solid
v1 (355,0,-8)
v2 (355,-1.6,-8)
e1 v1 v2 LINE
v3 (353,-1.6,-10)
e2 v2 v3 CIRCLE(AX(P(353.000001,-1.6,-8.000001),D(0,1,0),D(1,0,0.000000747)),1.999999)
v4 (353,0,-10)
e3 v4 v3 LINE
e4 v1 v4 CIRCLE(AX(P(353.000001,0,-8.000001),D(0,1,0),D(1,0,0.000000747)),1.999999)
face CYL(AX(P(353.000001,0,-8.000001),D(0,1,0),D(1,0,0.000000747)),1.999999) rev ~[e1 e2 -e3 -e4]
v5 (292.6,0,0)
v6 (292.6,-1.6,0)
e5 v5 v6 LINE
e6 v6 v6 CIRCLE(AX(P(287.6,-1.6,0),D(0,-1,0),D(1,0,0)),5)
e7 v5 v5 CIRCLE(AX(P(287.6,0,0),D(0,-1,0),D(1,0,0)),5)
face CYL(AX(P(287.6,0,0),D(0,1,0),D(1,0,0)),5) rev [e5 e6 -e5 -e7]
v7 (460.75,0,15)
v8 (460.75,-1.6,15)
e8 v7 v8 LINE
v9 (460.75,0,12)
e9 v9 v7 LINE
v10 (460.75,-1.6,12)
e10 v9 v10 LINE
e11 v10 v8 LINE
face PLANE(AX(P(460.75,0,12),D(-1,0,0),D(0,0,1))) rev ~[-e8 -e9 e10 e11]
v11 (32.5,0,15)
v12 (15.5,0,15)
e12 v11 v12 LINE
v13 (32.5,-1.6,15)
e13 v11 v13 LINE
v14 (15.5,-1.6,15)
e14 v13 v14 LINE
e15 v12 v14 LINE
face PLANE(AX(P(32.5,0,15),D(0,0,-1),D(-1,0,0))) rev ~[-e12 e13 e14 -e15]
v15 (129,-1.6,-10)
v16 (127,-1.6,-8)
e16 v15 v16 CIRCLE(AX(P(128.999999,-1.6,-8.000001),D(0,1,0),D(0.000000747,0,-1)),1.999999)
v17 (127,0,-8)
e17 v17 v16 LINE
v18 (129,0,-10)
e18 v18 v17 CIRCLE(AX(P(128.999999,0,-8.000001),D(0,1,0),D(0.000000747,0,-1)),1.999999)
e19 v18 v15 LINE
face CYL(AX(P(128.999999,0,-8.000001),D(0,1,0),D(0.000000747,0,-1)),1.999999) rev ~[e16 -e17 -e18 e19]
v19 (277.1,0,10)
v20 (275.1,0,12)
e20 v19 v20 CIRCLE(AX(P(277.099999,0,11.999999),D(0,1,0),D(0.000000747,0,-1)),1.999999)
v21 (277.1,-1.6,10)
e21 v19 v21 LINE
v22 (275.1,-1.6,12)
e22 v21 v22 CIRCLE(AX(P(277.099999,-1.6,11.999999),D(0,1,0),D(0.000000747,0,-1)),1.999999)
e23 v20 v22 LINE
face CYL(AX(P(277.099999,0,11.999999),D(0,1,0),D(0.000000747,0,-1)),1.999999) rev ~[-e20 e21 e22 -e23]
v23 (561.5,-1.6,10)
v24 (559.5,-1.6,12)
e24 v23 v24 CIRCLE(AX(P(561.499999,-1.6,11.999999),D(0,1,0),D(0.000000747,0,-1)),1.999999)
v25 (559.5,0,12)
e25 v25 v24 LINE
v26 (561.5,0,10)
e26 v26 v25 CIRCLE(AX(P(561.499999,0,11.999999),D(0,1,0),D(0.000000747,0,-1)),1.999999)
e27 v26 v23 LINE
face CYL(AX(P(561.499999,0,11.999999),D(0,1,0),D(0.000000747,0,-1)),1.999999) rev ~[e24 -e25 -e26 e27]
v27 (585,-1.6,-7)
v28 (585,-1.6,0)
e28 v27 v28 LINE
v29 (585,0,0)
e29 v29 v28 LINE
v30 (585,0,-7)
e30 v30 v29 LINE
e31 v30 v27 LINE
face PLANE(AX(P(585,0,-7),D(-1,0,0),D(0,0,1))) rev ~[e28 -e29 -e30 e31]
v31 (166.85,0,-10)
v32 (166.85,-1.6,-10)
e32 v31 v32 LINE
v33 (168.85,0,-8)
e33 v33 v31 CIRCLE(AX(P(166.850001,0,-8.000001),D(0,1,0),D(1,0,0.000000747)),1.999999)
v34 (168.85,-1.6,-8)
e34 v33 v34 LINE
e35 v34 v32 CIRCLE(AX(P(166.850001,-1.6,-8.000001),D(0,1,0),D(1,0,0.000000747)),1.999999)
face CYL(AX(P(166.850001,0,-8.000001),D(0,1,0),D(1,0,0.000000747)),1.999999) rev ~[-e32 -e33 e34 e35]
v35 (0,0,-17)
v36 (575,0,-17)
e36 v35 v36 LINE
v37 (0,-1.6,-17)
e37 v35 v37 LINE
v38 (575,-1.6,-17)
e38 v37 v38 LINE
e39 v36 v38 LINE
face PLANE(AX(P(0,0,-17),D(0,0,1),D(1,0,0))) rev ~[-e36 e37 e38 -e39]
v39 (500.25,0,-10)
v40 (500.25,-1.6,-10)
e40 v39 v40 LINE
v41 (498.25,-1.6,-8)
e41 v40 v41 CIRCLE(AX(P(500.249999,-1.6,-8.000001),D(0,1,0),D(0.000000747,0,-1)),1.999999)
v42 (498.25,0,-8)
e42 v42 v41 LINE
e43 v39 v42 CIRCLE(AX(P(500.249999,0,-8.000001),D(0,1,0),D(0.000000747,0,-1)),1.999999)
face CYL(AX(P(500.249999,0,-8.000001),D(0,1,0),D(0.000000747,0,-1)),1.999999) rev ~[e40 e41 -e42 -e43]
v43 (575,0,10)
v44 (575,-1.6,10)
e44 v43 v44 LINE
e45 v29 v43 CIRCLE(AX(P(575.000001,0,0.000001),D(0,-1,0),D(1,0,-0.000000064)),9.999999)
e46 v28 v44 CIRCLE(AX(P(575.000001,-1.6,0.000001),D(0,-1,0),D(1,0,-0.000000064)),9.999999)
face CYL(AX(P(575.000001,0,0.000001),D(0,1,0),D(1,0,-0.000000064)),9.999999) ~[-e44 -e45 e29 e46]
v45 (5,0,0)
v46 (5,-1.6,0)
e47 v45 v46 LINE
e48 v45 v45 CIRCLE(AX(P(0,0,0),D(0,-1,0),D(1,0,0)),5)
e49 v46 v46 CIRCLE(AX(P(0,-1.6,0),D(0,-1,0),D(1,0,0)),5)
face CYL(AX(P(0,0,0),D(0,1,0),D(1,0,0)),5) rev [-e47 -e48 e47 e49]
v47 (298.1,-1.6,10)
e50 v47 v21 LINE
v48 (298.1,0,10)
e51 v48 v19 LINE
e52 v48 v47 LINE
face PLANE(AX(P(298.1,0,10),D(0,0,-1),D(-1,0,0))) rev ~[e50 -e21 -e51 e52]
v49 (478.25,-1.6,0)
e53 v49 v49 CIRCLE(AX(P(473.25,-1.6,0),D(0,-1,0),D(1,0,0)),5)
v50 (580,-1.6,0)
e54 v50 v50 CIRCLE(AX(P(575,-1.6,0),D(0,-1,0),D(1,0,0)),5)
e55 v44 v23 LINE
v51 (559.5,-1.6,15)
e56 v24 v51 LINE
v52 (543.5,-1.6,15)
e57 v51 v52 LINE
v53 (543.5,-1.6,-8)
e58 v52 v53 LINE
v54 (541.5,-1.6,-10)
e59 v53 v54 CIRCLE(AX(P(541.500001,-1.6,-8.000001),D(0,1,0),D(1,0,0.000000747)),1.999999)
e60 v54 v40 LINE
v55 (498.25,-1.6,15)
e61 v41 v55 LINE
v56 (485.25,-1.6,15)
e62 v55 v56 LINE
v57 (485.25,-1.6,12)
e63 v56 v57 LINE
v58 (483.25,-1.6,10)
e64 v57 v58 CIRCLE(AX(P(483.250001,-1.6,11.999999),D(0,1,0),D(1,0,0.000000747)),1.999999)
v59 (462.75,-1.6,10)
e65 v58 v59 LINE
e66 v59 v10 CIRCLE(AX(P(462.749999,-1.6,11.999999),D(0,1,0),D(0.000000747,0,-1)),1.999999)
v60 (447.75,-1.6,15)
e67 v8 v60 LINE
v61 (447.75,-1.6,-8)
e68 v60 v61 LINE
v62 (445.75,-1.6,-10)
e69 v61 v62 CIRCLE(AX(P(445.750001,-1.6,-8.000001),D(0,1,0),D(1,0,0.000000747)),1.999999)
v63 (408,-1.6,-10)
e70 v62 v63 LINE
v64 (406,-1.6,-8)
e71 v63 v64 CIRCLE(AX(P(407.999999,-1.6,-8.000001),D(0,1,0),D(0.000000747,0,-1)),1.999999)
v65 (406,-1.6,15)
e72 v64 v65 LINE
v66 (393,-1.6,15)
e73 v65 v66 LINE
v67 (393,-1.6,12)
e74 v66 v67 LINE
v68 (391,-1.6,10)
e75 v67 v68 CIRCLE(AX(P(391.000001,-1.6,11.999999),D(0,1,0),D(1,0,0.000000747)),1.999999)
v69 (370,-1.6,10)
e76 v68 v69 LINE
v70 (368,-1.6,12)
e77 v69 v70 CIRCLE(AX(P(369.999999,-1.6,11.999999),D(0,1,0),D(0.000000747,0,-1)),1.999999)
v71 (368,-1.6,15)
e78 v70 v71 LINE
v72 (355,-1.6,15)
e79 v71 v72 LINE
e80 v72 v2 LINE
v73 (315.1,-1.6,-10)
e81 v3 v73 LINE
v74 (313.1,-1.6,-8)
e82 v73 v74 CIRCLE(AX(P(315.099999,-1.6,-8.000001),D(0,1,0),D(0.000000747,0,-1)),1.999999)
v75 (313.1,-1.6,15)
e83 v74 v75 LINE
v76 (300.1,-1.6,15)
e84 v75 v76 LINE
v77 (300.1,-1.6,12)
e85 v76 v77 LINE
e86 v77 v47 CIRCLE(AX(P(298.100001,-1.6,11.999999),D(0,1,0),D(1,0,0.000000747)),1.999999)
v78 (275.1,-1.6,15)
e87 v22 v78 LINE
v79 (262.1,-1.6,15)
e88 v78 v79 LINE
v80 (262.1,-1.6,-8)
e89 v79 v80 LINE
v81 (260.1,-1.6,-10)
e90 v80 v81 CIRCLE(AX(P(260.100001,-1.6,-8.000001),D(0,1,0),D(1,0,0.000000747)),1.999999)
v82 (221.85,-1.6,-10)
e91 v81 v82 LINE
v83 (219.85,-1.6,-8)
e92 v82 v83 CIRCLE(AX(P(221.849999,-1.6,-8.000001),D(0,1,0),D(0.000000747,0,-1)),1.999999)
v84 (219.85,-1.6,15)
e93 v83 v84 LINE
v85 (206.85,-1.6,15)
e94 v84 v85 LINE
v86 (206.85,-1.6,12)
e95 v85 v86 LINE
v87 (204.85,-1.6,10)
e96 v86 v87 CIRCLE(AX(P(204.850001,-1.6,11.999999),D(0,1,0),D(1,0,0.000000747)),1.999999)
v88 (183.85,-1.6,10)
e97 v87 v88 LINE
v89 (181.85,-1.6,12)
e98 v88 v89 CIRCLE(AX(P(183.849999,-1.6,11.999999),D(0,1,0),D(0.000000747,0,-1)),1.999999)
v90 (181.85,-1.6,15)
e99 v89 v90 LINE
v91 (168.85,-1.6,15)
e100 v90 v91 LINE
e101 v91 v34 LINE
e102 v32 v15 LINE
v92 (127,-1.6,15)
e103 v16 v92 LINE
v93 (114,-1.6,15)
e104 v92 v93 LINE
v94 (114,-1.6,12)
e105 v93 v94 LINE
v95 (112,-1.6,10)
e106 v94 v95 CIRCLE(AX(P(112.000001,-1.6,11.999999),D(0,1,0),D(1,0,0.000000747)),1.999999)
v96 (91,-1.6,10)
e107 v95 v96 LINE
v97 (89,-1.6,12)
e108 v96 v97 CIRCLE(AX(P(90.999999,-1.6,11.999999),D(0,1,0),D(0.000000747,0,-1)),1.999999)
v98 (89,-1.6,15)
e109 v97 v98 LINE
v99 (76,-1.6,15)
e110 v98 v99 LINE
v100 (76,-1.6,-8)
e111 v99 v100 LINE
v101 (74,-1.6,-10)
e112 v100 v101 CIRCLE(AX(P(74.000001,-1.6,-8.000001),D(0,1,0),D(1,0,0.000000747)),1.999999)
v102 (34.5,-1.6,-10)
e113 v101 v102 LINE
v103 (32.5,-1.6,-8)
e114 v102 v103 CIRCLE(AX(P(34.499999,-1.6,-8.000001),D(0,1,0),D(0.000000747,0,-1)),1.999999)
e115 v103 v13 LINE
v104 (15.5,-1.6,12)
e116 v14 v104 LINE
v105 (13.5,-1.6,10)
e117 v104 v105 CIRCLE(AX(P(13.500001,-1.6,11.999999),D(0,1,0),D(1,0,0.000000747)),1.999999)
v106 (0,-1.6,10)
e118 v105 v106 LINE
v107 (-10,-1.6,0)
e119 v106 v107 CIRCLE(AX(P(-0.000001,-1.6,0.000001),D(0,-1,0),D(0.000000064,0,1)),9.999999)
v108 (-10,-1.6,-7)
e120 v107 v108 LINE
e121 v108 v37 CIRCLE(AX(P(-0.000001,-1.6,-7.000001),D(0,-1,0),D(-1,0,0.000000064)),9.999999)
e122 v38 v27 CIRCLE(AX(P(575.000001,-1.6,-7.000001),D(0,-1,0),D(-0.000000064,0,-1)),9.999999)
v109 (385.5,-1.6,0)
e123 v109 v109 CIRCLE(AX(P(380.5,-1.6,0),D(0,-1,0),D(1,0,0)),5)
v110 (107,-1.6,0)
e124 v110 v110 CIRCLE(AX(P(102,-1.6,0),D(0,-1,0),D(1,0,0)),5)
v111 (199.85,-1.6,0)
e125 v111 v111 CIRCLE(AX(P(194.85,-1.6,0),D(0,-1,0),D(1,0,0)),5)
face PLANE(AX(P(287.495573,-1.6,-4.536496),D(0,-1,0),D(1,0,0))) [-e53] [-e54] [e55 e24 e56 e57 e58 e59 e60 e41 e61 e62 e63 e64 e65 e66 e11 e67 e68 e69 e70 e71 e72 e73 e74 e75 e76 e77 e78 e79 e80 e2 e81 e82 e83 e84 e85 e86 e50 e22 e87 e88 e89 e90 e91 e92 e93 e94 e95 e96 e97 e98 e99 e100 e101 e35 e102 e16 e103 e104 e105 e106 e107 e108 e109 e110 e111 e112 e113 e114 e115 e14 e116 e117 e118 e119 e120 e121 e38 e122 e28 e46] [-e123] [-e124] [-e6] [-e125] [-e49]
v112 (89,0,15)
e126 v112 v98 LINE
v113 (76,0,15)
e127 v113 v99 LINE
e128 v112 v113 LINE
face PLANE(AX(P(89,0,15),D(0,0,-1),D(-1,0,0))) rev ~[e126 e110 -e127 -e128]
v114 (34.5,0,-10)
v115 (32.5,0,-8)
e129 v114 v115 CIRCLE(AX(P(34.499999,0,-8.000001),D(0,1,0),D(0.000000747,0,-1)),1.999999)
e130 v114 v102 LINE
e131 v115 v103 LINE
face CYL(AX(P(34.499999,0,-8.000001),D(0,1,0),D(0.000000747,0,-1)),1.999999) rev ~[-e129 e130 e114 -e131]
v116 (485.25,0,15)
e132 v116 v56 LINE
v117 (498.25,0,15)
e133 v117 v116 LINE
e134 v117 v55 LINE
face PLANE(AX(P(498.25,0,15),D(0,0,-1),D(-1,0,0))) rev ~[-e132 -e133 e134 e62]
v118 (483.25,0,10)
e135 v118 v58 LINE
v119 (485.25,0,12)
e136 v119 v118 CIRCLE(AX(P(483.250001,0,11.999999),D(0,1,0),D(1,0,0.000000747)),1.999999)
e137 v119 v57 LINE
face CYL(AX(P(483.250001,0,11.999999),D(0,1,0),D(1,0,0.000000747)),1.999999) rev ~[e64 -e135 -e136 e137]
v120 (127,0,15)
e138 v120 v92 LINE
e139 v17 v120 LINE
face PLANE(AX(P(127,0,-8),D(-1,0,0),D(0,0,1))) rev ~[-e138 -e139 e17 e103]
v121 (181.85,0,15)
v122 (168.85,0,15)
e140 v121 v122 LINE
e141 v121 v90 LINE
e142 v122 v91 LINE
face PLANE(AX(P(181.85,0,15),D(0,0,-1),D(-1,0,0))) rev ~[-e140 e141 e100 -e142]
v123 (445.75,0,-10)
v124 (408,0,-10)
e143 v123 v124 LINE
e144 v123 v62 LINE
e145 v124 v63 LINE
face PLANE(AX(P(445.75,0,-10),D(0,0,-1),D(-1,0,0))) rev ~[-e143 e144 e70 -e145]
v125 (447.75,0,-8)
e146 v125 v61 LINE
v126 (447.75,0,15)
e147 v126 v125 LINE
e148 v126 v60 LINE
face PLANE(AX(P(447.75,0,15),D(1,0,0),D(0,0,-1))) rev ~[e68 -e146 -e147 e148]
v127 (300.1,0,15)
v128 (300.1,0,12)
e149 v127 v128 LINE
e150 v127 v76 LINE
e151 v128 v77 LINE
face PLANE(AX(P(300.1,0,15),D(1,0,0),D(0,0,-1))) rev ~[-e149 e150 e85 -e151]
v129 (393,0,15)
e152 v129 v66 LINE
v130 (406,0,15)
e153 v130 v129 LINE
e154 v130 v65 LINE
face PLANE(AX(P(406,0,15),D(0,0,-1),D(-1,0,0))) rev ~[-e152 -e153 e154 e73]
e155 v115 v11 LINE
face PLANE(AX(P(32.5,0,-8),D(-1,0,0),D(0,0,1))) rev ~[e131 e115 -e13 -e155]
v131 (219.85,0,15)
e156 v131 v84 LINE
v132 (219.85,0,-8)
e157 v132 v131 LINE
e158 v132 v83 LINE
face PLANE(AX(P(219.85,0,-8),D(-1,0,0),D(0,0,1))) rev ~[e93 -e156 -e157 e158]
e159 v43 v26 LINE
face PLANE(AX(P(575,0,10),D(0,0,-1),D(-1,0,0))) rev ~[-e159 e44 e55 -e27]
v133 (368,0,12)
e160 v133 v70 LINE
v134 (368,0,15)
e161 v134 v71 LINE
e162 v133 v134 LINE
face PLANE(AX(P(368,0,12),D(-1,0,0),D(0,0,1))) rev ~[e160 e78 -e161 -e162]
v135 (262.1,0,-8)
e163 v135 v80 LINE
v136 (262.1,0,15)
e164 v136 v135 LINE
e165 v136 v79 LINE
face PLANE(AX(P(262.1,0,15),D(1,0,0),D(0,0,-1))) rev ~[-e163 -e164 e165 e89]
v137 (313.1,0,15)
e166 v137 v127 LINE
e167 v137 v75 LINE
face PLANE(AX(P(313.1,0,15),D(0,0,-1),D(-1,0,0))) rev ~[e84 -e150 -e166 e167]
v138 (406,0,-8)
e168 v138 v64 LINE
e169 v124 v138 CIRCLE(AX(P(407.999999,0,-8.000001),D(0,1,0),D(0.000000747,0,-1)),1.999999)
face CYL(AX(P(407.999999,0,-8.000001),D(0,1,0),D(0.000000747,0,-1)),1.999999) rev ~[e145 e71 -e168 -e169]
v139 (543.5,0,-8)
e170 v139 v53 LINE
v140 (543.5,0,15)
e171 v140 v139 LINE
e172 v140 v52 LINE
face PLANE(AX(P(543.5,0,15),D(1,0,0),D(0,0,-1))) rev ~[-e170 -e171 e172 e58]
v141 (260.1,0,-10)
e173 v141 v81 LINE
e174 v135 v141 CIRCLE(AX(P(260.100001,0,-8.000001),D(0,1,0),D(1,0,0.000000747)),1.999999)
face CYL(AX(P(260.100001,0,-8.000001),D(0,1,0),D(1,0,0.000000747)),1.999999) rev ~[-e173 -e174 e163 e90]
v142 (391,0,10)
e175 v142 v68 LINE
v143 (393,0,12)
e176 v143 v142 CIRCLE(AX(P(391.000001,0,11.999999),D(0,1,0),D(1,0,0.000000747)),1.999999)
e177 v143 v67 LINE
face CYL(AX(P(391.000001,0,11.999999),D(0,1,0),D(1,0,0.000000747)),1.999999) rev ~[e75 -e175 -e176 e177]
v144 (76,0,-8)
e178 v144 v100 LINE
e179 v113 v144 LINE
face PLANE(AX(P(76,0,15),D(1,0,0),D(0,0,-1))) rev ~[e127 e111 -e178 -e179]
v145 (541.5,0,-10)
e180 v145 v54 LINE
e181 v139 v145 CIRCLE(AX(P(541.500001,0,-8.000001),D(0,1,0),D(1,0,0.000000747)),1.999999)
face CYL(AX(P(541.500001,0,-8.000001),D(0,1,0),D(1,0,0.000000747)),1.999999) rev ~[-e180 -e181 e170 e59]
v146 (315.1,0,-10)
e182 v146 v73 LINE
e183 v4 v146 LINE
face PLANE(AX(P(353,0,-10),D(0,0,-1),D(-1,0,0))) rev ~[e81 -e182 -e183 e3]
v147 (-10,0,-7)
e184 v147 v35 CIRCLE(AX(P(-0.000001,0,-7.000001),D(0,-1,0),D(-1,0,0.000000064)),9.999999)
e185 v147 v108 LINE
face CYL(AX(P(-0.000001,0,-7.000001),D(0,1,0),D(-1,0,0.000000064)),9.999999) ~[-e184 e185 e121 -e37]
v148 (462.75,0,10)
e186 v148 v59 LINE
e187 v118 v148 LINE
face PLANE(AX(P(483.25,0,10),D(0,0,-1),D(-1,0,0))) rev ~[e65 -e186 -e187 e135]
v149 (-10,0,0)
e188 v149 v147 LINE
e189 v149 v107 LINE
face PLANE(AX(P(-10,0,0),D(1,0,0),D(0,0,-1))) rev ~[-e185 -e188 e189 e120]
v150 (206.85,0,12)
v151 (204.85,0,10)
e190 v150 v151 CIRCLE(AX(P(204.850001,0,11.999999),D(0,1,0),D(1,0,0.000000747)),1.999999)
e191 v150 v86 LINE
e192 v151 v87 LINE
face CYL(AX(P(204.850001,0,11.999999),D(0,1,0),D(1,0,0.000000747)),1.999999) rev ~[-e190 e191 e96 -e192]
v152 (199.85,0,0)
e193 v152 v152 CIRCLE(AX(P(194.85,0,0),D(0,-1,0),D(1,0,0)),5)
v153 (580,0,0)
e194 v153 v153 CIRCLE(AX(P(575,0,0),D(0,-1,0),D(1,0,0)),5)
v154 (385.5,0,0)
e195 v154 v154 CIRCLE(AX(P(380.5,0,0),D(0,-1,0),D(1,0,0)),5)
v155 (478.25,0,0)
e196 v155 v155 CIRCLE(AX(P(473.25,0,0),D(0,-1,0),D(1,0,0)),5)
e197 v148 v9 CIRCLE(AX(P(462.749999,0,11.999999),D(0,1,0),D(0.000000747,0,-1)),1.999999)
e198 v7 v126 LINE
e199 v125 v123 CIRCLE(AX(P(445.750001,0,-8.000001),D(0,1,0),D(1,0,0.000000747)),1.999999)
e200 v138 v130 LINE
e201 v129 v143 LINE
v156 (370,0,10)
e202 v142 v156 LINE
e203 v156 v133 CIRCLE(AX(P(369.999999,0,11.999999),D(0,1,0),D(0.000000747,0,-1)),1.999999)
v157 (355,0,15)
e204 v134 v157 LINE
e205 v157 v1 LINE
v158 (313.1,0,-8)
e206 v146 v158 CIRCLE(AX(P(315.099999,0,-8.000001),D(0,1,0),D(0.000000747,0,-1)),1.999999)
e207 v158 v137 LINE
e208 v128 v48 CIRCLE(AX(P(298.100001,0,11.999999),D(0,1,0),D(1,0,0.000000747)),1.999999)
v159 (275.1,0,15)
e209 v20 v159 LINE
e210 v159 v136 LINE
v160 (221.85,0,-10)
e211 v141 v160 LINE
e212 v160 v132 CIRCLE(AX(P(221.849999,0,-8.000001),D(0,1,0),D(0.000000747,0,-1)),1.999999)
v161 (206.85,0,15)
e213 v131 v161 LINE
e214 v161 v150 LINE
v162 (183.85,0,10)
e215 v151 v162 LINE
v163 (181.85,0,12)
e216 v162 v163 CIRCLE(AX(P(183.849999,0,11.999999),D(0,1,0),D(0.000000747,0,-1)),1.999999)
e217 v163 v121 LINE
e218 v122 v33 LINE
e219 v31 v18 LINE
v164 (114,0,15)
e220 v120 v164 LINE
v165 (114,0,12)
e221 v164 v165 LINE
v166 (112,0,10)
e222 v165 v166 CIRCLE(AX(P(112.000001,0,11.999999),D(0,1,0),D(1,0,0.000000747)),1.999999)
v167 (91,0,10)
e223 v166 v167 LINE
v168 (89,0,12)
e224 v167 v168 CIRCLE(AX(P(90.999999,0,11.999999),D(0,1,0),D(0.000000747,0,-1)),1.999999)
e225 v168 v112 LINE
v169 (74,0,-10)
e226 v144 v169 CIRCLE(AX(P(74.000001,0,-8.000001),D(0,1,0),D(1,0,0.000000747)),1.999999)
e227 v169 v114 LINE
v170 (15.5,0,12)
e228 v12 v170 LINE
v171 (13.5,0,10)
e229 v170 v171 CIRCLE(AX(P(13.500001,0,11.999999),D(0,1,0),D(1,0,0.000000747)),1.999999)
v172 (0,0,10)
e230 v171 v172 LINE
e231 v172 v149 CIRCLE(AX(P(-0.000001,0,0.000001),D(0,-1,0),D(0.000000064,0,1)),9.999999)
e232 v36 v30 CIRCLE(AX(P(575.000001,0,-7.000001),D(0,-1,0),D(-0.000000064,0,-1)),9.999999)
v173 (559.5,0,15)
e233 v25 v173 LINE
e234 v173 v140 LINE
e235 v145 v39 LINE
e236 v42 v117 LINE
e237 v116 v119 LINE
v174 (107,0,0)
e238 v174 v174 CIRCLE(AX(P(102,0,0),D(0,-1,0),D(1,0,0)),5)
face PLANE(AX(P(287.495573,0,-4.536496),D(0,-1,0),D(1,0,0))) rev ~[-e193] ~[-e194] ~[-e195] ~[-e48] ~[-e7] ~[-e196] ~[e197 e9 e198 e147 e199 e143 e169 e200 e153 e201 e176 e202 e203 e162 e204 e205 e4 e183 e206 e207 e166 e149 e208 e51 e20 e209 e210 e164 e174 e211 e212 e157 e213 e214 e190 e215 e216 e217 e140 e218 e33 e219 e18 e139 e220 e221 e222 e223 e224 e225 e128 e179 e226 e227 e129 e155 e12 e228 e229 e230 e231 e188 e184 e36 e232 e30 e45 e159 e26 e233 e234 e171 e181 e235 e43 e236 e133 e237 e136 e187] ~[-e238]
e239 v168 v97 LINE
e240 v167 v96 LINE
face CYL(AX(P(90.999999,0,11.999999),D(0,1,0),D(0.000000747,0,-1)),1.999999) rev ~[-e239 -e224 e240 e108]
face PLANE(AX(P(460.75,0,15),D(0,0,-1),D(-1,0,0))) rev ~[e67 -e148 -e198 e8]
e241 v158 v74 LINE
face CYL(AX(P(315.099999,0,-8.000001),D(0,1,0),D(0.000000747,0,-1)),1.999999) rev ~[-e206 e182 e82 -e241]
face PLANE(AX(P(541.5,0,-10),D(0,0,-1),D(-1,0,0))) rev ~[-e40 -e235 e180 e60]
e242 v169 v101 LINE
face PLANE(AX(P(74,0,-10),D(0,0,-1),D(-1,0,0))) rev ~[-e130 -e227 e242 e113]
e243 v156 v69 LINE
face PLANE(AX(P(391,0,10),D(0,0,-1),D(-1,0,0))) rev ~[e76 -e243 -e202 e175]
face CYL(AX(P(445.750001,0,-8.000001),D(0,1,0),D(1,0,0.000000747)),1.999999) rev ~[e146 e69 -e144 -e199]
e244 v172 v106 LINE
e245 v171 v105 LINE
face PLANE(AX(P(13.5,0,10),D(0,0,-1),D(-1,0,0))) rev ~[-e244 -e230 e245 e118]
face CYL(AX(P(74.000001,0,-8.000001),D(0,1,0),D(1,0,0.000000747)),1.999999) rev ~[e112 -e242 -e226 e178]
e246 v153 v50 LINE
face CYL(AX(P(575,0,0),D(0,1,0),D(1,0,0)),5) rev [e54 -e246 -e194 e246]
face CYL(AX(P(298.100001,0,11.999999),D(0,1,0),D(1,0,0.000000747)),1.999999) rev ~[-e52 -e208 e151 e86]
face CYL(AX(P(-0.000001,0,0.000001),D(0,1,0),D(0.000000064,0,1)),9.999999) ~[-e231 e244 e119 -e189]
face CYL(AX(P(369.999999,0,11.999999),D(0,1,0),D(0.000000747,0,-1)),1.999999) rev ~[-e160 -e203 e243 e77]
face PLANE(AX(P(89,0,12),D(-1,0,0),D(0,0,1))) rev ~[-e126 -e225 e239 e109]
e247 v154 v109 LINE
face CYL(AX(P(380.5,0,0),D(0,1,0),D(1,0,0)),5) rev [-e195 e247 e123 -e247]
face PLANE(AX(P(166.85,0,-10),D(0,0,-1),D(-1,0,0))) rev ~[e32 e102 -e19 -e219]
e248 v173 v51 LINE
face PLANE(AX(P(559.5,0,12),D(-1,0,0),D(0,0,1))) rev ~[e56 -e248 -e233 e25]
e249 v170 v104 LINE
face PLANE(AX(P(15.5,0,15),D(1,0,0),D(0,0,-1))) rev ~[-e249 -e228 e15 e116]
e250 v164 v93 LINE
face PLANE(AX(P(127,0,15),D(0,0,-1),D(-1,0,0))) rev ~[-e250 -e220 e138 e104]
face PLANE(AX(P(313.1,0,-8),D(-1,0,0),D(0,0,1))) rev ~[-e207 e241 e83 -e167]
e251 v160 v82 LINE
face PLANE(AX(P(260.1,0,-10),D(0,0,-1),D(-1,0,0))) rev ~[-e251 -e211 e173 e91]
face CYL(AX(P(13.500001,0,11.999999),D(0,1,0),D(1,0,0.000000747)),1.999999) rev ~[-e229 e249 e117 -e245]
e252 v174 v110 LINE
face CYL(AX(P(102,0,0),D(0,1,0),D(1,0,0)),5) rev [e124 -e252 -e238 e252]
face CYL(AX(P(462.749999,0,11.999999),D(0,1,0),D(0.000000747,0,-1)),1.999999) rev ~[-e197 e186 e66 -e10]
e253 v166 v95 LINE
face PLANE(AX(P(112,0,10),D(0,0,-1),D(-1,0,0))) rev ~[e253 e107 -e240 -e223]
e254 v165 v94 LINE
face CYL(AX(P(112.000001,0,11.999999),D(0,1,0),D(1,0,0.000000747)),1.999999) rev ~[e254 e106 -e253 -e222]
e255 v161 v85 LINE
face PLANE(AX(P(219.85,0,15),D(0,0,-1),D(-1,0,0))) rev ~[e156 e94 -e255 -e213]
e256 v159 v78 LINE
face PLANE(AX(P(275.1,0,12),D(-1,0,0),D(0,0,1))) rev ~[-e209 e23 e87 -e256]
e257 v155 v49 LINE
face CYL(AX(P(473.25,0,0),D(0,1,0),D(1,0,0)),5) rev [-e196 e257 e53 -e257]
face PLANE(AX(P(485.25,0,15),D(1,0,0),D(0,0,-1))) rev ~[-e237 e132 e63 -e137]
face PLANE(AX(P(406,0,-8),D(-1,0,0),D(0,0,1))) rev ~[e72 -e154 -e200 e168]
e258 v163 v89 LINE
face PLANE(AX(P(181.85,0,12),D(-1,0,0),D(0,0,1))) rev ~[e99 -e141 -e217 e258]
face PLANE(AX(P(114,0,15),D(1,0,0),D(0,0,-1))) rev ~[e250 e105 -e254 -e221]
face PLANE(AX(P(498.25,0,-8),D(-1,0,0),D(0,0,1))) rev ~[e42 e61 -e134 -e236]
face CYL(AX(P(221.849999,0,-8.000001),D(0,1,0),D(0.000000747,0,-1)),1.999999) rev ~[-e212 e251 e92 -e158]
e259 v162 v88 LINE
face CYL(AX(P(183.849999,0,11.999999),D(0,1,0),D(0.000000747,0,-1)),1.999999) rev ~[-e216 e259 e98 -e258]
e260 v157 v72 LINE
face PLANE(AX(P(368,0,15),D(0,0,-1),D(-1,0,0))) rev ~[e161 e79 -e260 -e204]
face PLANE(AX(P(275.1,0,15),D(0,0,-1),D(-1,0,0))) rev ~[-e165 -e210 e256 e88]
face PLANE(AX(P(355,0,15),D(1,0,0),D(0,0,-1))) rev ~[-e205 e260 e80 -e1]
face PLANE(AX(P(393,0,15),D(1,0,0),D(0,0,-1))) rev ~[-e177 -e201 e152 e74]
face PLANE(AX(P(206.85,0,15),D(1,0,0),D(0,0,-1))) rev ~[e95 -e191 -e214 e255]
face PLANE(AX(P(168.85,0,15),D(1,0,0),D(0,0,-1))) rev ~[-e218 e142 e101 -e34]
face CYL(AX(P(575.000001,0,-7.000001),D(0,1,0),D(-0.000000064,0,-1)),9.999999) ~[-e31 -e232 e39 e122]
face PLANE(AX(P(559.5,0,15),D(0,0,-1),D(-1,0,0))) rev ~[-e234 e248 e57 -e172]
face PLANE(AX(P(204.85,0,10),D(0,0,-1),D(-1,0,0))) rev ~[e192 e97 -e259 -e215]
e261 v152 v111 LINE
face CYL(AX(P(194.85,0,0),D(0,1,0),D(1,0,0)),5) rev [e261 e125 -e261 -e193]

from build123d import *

# Parameters (mm, degrees)
F0_R     = 5
F1_DEPTH = 1.6


with BuildPart() as f1:
    # F0 (on Front) → F1 (new body)
    with BuildSketch(Plane.XZ):
        with BuildLine():
            ThreePointArc((-10, -7), (-7.071068, -14.071068), (0, -17))
            Line((0, -17), (575, -17))
            ThreePointArc((575, -17), (582.071068, -14.071068), (585, -7))
            Line((585, -7), (585, 0))
            ThreePointArc((585, 0), (582.071068, 7.071068), (575, 10))
            Line((575, 10), (561.5, 10))
            ThreePointArc((561.5, 10), (560.085786, 10.585786), (559.5, 12))
            Line((559.5, 12), (559.5, 15))
            Line((559.5, 15), (543.5, 15))
            Line((543.5, 15), (543.5, -8))
            ThreePointArc((543.5, -8), (542.914214, -9.414214), (541.5, -10))
            Line((541.5, -10), (500.25, -10))
            ThreePointArc((500.25, -10), (498.835786, -9.414214), (498.25, -8))
            Line((498.25, -8), (498.25, 15))
            Line((498.25, 15), (485.25, 15))
            Line((485.25, 15), (485.25, 12))
            ThreePointArc((485.25, 12), (484.664214, 10.585786), (483.25, 10))
            Line((483.25, 10), (462.75, 10))
            ThreePointArc((462.75, 10), (461.335786, 10.585786), (460.75, 12))
            Line((460.75, 12), (460.75, 15))
            Line((460.75, 15), (447.75, 15))
            Line((447.75, 15), (447.75, -8))
            ThreePointArc((447.75, -8), (447.164214, -9.414214), (445.75, -10))
            Line((445.75, -10), (408, -10))
            ThreePointArc((408, -10), (406.585786, -9.414214), (406, -8))
            Line((406, -8), (406, 15))
            Line((406, 15), (393, 15))
            Line((393, 15), (393, 12))
            ThreePointArc((393, 12), (392.414214, 10.585786), (391, 10))
            Line((391, 10), (370, 10))
            ThreePointArc((370, 10), (368.585786, 10.585786), (368, 12))
            Line((368, 12), (368, 15))
            Line((368, 15), (355, 15))
            Line((355, 15), (355, -8))
            ThreePointArc((355, -8), (354.414214, -9.414214), (353, -10))
            Line((353, -10), (315.1, -10))
            ThreePointArc((315.1, -10), (313.685786, -9.414214), (313.1, -8))
            Line((313.1, -8), (313.1, 15))
            Line((313.1, 15), (300.1, 15))
            Line((300.1, 15), (300.1, 12))
            ThreePointArc((300.1, 12), (299.514214, 10.585786), (298.1, 10))
            Line((298.1, 10), (277.1, 10))
            ThreePointArc((277.1, 10), (275.685786, 10.585786), (275.1, 12))
            Line((275.1, 12), (275.1, 15))
            Line((275.1, 15), (262.1, 15))
            Line((262.1, 15), (262.1, -8))
            ThreePointArc((262.1, -8), (261.514214, -9.414214), (260.1, -10))
            Line((260.1, -10), (221.85, -10))
            ThreePointArc((221.85, -10), (220.435786, -9.414214), (219.85, -8))
            Line((219.85, -8), (219.85, 15))
            Line((219.85, 15), (206.85, 15))
            Line((206.85, 15), (206.85, 12))
            ThreePointArc((206.85, 12), (206.264214, 10.585786), (204.85, 10))
            Line((204.85, 10), (183.85, 10))
            ThreePointArc((183.85, 10), (182.435786, 10.585786), (181.85, 12))
            Line((181.85, 12), (181.85, 15))
            Line((181.85, 15), (168.85, 15))
            Line((168.85, 15), (168.85, -8))
            ThreePointArc((168.85, -8), (168.264214, -9.414214), (166.85, -10))
            Line((166.85, -10), (129, -10))
            ThreePointArc((129, -10), (127.585786, -9.414214), (127, -8))
            Line((127, -8), (127, 15))
            Line((127, 15), (114, 15))
            Line((114, 15), (114, 12))
            ThreePointArc((114, 12), (113.414214, 10.585786), (112, 10))
            Line((112, 10), (91, 10))
            ThreePointArc((91, 10), (89.585786, 10.585786), (89, 12))
            Line((89, 12), (89, 15))
            Line((89, 15), (76, 15))
            Line((76, 15), (76, -8))
            ThreePointArc((76, -8), (75.414214, -9.414214), (74, -10))
            Line((74, -10), (34.5, -10))
            ThreePointArc((34.5, -10), (33.085786, -9.414214), (32.5, -8))
            Line((32.5, -8), (32.5, 15))
            Line((32.5, 15), (15.5, 15))
            Line((15.5, 15), (15.5, 12))
            ThreePointArc((15.5, 12), (14.914214, 10.585786), (13.5, 10))
            Line((13.5, 10), (0, 10))
            ThreePointArc((0, 10), (-7.071068, 7.071068), (-10, 0))
            Line((-10, 0), (-10, -7))
        make_face()
        Circle(F0_R, mode=Mode.SUBTRACT)
        with Locations((102, 0)):
            Circle(F0_R, mode=Mode.SUBTRACT)
        with Locations((194.85, 0)):
            Circle(F0_R, mode=Mode.SUBTRACT)
        with Locations((287.6, 0)):
            Circle(F0_R, mode=Mode.SUBTRACT)
        with Locations((380.5, 0)):
            Circle(F0_R, mode=Mode.SUBTRACT)
        with Locations((473.25, 0)):
            Circle(F0_R, mode=Mode.SUBTRACT)
        with Locations((575, 0)):
            Circle(F0_R, mode=Mode.SUBTRACT)
    extrude(amount=F1_DEPTH)


solid = f1.part
